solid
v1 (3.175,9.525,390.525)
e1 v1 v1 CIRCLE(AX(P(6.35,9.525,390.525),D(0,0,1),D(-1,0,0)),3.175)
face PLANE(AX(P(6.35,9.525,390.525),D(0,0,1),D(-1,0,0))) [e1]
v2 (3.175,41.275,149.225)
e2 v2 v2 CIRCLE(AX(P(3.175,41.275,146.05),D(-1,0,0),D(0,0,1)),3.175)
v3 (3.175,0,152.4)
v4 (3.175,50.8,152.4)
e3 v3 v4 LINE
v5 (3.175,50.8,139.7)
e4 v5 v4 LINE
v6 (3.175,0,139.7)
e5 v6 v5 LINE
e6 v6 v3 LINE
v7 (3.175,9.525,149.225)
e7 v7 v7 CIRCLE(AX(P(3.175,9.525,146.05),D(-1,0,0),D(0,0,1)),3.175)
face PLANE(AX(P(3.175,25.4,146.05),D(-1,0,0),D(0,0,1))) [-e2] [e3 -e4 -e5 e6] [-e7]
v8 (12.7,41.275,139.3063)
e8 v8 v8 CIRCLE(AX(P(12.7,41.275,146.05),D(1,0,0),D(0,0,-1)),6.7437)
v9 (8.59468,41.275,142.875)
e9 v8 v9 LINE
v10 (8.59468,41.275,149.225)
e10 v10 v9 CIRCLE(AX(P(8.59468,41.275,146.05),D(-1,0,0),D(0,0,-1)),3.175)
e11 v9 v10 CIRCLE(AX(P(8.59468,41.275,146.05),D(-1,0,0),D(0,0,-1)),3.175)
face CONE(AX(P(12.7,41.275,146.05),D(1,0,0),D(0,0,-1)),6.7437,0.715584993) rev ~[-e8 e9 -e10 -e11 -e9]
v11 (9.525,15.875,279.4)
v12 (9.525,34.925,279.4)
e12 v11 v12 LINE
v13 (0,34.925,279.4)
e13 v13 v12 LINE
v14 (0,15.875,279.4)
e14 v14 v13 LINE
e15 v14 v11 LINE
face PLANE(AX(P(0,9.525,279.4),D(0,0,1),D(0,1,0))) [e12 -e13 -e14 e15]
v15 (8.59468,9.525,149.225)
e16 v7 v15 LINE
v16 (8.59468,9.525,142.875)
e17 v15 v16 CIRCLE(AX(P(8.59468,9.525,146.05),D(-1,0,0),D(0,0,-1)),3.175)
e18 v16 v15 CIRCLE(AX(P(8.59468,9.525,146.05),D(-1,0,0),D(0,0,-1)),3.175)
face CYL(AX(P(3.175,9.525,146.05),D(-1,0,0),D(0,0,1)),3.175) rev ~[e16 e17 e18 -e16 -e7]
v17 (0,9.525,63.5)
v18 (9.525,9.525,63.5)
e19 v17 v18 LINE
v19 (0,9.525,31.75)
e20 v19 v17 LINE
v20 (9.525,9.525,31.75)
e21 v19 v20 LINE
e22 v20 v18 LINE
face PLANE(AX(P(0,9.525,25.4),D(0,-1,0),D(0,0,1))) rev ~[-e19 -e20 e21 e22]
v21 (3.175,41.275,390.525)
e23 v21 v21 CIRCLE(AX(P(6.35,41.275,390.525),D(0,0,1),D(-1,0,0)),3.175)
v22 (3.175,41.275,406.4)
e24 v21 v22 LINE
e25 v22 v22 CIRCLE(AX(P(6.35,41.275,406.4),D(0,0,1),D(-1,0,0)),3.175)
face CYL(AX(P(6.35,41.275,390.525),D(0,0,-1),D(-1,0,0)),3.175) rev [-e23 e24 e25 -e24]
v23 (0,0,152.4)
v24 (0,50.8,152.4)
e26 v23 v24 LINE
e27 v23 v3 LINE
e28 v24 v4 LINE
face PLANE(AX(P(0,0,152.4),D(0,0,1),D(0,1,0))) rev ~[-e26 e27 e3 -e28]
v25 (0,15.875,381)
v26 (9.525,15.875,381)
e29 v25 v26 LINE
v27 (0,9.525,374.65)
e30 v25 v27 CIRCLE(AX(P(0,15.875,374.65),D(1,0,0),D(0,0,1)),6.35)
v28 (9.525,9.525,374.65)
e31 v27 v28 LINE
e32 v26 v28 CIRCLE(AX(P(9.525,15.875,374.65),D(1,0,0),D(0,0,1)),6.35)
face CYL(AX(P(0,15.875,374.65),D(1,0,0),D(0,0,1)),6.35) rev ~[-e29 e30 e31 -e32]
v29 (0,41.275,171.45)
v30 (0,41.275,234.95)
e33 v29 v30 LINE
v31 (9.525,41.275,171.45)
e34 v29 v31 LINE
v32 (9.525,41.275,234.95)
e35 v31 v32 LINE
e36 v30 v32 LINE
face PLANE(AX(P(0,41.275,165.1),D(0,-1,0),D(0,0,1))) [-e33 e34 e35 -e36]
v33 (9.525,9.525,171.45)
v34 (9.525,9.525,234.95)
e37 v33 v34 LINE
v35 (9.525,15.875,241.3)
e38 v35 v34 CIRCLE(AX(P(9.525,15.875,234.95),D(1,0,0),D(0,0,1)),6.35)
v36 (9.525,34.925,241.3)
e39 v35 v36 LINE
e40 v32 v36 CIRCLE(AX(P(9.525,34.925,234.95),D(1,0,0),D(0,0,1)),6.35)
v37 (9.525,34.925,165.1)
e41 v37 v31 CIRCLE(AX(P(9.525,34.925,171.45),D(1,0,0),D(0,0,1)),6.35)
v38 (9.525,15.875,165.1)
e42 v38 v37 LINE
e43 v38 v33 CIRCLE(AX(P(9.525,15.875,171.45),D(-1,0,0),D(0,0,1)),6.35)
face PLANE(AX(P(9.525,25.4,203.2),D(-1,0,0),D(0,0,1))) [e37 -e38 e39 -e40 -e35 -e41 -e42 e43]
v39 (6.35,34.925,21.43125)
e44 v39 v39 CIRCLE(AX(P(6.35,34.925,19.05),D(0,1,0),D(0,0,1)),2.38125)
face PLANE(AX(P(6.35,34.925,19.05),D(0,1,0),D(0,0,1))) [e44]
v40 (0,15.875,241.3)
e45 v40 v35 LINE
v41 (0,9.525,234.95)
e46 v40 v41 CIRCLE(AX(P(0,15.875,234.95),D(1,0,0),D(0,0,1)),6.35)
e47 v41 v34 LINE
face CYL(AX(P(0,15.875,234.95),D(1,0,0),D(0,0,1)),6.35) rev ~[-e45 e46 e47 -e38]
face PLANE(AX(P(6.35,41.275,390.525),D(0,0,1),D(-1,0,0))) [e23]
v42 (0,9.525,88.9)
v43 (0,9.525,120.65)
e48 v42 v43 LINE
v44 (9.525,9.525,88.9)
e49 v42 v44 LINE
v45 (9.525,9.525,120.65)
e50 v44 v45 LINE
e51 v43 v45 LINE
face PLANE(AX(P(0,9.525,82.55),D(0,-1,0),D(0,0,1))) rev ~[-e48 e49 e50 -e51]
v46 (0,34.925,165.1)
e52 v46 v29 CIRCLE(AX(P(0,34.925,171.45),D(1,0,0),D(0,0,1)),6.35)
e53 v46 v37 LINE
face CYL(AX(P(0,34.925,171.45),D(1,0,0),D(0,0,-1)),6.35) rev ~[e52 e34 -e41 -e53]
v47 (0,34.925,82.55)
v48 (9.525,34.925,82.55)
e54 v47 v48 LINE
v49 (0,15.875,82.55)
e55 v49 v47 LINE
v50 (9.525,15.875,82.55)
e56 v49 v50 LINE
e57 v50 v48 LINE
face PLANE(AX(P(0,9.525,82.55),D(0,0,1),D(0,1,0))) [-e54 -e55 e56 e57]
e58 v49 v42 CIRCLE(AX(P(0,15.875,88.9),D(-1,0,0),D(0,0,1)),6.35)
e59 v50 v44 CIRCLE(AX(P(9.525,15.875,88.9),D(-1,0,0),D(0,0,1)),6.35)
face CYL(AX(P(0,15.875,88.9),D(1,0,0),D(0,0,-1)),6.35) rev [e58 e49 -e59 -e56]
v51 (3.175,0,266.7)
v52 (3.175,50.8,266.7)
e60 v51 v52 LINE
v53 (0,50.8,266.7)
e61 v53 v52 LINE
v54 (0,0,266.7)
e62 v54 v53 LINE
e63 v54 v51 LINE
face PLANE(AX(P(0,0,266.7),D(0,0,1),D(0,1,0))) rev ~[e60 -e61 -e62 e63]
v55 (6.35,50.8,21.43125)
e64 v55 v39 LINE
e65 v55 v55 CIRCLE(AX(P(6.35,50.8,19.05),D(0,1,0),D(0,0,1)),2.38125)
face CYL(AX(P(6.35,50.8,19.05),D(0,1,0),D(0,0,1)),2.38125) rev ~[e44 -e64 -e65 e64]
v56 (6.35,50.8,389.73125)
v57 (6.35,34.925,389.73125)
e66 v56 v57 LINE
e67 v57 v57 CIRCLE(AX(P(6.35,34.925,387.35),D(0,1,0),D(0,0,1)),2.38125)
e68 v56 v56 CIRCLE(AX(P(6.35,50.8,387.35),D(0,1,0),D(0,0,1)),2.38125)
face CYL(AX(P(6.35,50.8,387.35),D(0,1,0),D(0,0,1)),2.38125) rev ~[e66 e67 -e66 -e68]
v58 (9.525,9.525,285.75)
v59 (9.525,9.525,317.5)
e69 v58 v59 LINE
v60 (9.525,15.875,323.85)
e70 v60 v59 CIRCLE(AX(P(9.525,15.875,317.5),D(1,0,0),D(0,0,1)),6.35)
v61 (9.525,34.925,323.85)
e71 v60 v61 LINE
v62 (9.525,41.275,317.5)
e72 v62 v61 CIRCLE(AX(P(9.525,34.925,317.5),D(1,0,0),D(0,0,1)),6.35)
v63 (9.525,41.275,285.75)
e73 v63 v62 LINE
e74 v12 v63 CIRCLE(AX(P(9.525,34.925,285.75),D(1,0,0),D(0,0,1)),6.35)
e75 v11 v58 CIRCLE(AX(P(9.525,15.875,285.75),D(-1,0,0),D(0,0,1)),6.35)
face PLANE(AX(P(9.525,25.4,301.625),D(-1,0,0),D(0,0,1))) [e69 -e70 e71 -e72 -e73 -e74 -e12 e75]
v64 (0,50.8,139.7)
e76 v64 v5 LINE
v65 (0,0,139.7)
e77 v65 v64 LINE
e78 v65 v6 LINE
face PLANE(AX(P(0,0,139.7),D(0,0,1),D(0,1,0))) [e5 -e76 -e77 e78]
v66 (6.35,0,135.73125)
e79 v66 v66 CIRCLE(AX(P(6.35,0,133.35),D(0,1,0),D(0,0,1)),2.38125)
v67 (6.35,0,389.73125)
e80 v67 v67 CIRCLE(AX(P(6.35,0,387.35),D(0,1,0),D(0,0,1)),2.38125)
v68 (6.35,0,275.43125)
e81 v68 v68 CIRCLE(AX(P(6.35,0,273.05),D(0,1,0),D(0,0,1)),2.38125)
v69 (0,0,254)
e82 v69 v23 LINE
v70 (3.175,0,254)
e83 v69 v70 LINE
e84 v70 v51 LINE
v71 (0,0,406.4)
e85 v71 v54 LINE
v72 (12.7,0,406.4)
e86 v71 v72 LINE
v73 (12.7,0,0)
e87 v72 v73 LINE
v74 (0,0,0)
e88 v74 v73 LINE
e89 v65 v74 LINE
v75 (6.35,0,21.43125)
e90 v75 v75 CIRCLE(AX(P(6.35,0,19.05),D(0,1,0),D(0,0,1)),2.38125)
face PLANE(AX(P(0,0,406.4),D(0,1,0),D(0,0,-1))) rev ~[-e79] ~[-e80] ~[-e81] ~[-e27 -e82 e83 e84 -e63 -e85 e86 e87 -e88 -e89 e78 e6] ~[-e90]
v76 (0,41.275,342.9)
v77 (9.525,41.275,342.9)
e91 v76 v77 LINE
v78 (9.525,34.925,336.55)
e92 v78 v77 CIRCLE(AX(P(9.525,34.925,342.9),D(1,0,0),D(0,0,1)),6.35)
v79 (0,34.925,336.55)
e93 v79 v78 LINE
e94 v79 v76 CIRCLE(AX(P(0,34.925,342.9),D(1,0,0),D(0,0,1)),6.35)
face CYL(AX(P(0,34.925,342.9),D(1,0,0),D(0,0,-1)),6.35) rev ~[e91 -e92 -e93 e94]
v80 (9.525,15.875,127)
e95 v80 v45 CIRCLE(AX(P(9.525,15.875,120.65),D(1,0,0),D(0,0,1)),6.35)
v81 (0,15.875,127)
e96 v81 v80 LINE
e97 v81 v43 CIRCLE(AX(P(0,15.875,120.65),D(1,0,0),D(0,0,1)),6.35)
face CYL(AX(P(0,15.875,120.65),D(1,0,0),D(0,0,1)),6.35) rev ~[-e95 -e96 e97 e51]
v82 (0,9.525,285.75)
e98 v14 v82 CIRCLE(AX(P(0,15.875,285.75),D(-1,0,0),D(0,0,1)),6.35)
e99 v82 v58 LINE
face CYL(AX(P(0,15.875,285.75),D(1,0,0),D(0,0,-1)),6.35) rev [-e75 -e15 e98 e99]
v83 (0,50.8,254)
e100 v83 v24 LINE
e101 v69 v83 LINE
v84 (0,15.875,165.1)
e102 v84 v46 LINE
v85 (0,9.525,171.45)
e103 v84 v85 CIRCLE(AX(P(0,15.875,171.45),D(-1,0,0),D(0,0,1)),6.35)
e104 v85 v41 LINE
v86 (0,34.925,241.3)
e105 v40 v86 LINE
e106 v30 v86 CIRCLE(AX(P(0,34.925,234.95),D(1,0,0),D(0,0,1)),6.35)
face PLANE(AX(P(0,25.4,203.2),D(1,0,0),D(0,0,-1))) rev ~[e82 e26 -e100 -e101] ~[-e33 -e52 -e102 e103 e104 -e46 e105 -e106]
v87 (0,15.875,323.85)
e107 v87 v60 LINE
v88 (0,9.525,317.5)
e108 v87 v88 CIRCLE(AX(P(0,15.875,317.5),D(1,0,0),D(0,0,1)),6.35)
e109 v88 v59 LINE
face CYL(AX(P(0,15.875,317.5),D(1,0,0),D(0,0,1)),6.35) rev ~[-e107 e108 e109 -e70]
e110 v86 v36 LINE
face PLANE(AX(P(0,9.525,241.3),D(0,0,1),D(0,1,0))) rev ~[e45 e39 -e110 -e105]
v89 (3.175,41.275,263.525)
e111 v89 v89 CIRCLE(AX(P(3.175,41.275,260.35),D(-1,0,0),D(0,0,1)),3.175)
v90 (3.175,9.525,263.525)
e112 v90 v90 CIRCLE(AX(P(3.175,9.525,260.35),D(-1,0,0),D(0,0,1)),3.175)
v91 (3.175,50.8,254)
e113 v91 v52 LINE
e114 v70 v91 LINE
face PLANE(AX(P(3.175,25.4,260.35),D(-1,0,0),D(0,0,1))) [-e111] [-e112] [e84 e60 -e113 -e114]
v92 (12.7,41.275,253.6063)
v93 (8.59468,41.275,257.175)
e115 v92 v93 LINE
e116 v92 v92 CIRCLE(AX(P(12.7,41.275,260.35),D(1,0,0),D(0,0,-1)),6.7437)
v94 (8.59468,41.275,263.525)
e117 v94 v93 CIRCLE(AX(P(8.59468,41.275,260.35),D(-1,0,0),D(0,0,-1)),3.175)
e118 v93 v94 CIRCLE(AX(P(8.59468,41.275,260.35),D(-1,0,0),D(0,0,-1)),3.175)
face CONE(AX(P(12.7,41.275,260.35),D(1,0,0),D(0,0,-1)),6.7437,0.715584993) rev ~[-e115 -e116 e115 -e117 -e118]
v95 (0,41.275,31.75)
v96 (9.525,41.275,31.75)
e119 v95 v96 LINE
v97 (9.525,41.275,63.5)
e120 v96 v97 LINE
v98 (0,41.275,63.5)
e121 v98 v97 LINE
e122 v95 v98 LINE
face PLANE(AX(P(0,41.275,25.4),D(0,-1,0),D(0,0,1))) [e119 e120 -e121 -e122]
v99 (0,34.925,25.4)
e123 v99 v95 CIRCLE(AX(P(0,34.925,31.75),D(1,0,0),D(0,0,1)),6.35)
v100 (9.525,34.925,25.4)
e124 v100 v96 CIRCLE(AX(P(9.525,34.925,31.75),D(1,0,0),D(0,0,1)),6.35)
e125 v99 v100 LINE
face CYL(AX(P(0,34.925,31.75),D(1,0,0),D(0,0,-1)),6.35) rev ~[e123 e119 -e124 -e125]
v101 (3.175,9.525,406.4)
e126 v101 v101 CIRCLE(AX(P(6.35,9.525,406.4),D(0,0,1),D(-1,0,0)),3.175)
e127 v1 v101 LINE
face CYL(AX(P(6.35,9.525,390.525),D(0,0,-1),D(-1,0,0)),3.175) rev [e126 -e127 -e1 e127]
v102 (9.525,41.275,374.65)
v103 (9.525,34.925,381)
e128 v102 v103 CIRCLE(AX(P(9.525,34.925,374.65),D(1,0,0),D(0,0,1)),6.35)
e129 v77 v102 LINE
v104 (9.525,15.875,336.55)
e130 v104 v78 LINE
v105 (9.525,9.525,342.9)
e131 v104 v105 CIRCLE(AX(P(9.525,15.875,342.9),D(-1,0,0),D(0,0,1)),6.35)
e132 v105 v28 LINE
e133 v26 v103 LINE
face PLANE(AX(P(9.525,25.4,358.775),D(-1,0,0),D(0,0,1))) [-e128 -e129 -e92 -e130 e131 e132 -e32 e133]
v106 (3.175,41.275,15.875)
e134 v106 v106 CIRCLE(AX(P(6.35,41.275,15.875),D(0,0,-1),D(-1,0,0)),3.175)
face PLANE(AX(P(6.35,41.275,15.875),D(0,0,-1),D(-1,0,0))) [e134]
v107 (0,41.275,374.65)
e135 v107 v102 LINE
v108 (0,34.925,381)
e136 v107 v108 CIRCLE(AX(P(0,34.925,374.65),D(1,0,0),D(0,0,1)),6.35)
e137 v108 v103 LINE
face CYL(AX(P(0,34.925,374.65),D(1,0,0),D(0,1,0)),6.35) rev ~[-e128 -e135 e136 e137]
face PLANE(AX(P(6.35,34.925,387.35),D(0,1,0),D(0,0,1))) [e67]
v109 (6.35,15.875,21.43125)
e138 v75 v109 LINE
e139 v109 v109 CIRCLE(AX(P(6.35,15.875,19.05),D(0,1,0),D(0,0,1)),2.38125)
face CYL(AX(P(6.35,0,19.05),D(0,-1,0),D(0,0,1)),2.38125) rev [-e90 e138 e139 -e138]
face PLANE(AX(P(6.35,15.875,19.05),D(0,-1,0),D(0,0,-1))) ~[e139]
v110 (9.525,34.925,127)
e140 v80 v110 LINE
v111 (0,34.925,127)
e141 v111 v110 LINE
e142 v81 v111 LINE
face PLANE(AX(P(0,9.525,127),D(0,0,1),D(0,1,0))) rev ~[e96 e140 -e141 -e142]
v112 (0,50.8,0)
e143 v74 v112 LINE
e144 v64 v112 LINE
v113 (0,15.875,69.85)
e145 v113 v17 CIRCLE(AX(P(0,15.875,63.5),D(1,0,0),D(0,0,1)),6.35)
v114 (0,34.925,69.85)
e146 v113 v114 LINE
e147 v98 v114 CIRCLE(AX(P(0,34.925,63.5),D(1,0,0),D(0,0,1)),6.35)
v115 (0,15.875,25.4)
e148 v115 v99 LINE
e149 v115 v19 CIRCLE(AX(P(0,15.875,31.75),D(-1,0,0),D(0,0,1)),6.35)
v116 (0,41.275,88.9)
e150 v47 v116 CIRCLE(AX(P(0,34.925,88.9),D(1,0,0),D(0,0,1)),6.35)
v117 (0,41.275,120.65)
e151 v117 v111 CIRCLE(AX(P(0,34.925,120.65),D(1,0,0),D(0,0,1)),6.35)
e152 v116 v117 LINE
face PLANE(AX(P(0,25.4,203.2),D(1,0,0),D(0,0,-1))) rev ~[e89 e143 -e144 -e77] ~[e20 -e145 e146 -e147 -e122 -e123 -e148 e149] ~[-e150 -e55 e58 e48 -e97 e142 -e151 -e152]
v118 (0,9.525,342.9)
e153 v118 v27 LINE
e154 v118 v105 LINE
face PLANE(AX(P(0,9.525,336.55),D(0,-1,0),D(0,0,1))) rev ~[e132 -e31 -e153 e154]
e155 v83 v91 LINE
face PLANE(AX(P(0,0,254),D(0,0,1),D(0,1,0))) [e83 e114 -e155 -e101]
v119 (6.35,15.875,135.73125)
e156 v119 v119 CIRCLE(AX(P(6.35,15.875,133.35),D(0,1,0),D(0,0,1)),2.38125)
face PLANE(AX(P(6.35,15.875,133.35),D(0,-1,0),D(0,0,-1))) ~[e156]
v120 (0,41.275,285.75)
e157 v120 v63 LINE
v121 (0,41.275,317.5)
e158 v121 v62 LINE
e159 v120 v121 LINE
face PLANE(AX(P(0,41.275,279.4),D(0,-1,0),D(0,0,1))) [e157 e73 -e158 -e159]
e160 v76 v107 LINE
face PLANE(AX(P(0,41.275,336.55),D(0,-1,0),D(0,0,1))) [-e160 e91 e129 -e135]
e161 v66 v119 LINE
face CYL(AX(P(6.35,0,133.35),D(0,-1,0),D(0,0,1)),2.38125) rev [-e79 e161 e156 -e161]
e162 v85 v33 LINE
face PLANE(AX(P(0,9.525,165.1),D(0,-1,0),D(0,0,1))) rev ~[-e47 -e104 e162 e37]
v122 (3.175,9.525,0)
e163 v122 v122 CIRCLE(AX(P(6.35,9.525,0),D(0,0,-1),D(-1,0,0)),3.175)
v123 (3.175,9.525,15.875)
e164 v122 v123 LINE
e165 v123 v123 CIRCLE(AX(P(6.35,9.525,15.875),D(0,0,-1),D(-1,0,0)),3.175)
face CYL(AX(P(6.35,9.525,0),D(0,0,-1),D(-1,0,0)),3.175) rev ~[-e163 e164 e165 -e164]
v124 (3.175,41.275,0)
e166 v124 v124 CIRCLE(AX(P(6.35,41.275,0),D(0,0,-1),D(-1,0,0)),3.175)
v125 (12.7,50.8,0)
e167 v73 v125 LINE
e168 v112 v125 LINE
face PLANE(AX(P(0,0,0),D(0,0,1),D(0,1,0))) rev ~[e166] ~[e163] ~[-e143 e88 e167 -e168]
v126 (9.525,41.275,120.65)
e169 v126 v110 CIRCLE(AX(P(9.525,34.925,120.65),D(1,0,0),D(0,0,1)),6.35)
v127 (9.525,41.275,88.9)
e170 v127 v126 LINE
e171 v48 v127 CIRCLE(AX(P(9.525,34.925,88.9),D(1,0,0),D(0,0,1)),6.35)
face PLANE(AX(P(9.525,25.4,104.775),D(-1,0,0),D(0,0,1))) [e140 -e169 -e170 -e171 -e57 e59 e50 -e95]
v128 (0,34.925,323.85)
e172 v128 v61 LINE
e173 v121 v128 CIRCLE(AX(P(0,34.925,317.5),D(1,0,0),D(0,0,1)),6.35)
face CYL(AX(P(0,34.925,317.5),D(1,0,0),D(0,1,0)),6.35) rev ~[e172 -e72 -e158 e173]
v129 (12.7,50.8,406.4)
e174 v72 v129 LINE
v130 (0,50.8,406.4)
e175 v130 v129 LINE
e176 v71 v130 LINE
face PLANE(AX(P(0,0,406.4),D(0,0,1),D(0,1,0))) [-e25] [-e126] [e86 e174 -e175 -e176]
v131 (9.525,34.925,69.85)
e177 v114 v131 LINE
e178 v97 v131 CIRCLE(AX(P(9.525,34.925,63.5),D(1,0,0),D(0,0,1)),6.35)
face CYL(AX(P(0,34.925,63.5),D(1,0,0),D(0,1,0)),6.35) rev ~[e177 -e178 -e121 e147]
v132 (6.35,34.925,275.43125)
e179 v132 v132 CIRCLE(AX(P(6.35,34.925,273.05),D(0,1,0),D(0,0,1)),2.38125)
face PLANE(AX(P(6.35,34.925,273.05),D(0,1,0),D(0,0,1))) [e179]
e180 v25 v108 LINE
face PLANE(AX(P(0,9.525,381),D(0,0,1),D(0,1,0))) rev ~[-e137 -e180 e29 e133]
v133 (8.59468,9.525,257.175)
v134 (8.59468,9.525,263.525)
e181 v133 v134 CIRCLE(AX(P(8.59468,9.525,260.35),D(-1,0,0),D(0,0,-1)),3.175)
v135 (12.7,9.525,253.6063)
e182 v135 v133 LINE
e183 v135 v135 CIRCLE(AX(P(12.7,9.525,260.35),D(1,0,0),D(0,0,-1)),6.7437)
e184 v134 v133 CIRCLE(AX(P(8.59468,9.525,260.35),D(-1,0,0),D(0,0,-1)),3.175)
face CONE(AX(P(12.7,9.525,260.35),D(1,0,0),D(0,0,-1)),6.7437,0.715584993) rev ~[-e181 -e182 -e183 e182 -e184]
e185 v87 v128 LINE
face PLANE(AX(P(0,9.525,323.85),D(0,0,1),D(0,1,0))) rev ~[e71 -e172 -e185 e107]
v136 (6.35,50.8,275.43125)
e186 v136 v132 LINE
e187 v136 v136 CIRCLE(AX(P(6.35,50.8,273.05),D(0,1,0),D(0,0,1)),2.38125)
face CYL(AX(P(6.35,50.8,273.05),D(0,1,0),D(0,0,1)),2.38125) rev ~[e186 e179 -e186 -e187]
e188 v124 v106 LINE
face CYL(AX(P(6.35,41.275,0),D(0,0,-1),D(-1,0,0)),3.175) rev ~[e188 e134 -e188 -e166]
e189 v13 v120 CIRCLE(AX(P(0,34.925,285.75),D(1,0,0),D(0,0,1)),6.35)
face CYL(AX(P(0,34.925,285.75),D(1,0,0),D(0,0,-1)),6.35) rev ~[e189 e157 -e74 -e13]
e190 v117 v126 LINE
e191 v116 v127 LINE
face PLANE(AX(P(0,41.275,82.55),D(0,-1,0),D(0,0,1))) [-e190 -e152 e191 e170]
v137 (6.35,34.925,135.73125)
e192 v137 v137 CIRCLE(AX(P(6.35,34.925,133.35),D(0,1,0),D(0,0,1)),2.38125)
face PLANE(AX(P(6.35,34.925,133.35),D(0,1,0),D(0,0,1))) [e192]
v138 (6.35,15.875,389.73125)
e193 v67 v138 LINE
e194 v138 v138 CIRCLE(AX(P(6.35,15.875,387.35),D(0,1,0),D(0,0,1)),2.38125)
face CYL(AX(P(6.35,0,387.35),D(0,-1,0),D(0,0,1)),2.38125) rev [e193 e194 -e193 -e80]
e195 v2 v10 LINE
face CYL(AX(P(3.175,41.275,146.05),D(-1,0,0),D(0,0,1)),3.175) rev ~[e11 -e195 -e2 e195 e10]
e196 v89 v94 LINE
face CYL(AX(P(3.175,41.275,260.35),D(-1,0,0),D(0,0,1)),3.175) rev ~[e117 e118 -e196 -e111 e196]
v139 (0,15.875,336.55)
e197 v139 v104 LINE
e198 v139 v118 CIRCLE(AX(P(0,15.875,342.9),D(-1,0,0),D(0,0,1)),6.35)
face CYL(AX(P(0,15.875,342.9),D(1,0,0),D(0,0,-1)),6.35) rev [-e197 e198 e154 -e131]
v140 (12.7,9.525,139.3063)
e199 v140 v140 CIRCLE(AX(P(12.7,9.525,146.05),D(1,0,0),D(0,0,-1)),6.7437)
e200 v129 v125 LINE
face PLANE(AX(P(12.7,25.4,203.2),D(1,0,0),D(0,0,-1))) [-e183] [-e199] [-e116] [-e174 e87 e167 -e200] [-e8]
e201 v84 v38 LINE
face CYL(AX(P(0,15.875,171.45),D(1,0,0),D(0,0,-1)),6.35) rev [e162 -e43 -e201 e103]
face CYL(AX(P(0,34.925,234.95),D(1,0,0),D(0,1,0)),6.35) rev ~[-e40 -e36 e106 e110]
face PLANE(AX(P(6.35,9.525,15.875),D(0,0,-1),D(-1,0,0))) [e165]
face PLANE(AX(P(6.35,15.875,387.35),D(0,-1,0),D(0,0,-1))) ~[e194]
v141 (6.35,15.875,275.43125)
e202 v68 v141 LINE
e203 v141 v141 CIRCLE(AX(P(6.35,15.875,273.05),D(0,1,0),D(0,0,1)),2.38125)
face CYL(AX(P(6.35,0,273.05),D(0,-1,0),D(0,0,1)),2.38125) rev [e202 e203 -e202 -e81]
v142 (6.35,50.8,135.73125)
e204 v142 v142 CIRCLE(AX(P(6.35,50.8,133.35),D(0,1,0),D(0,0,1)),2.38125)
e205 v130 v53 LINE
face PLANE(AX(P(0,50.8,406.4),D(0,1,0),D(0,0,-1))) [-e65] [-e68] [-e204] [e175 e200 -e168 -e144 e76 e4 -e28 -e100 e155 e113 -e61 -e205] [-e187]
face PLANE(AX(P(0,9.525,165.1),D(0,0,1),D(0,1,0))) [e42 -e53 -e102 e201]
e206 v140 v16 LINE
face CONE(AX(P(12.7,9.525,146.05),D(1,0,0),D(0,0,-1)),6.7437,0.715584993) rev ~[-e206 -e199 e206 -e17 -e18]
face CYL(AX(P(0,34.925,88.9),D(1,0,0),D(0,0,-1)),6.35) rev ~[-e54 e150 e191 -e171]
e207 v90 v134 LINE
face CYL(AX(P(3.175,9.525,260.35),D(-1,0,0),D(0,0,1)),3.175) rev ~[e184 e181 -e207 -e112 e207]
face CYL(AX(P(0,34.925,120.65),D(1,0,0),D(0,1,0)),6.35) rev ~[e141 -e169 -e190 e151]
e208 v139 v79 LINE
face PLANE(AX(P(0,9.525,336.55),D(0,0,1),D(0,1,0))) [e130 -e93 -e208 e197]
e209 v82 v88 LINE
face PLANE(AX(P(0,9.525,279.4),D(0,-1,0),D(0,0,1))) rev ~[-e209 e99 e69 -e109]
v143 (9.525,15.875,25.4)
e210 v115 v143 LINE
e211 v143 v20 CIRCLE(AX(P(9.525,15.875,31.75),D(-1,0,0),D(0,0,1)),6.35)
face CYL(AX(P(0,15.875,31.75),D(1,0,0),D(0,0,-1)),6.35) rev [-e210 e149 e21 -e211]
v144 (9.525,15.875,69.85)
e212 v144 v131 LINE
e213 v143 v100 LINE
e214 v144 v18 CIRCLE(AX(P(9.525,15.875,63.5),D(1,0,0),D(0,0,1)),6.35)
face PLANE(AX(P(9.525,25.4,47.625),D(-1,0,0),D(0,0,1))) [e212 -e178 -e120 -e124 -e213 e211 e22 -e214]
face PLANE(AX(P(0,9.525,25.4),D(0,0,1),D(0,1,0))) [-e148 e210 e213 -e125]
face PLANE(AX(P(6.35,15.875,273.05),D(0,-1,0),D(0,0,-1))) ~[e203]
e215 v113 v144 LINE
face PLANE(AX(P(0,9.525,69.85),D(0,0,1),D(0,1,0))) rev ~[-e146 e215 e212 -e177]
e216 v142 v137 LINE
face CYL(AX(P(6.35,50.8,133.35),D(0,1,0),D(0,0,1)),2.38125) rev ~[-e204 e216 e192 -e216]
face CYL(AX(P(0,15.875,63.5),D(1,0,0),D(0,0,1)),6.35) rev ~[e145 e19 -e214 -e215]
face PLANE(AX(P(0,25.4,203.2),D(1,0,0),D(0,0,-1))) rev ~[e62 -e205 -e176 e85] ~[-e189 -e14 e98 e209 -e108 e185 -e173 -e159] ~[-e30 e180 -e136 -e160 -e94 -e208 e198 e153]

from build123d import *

# Parameters (mm, degrees)
SKETCH1_W                    = 406.4
SKETCH1_H                    = 50.8
EXTRUDE1_DEPTH               = 12.7
SKETCH2_W                    = 12.7
SKETCH2_H                    = 50.8
CUT_EXTRUDE1_DEPTH           = 3.175
SKETCH3_W                    = 44.45
SKETCH3_H                    = 31.75
SKETCH3_W_2                  = 76.2
CUT_EXTRUDE2_DEPTH           = 9.525
FILLET1_R                    = 6.35
SKETCH4_R                    = 2.38125
CUT_EXTRUDE3_DEPTH           = 15.875
SKETCH5_R                    = 3.175
CUT_EXTRUDE4_DEPTH           = 410.673437783
SKETCH6_R                    = 6.7437
CUT_EXTRUDE5_DEPTH           = 410.759551445
CUT_EXTRUDE5_DRAFT           = -41
CUT_EXTRUDE5_PROFILE_2_DEPTH = 410.759551445
CUT_EXTRUDE5_PROFILE_2_DRAFT = -41
CUT_EXTRUDE5_PROFILE_3_DEPTH = 410.759551445
CUT_EXTRUDE5_PROFILE_3_DRAFT = -41
CUT_EXTRUDE5_PROFILE_4_DEPTH = 410.759551445
CUT_EXTRUDE5_PROFILE_4_DRAFT = -41
SKETCH7_R                    = 3.175
CUT_EXTRUDE6_DEPTH           = 15.875
CUT_EXTRUDE7_START           = -15.875
SKETCH8_R                    = 3.175
CUT_EXTRUDE7_DEPTH           = 15.875


with BuildPart() as part:
    # Sketch1 → Extrude1 (new body)
    with BuildSketch(Plane(origin=(0, 0, 0), x_dir=(0, 0, -1), z_dir=(1, 0, 0))):
        with Locations((-203.2, 25.4)):
            Rectangle(SKETCH1_W, SKETCH1_H)
    extrude(amount=EXTRUDE1_DEPTH)

    # Sketch2 → Cut-Extrude1 (cut)
    with BuildSketch(Plane.ZY):
        with Locations((146.05, 25.4)):
            Rectangle(SKETCH2_W, SKETCH2_H)
        with Locations((260.35, 25.4)):
            Rectangle(SKETCH2_W, SKETCH2_H)
    extrude(amount=-CUT_EXTRUDE1_DEPTH, mode=Mode.SUBTRACT)

    # Sketch3 → Cut-Extrude2 (cut)
    with BuildSketch(Plane.ZY):
        with Locations((47.625, 25.4)):
            Rectangle(SKETCH3_W, SKETCH3_H)
        with Locations((104.775, 25.4)):
            Rectangle(SKETCH3_W, SKETCH3_H)
        with Locations((203.2, 25.4)):
            Rectangle(SKETCH3_W_2, SKETCH3_H)
        with Locations((301.625, 25.4)):
            Rectangle(SKETCH3_W, SKETCH3_H)
        with Locations((358.775, 25.4)):
            Rectangle(SKETCH3_W, SKETCH3_H)
    extrude(amount=-CUT_EXTRUDE2_DEPTH, mode=Mode.SUBTRACT)

    # Fillet1
    fillet1_edges = [part.edges().sort_by_distance(p)[0] for p in [
        (4.7625, 9.525, 25.4),
        (4.7625, 41.275, 25.4),
        (4.7625, 41.275, 69.85),
        (4.7625, 9.525, 69.85),
        (4.7625, 41.275, 127),
        (4.7625, 9.525, 127),
        (4.7625, 9.525, 82.55),
        (4.7625, 41.275, 82.55),
        (4.7625, 9.525, 165.1),
        (4.7625, 41.275, 165.1),
        (4.7625, 41.275, 241.3),
        (4.7625, 9.525, 241.3),
        (4.7625, 9.525, 279.4),
        (4.7625, 41.275, 279.4),
        (4.7625, 41.275, 323.85),
        (4.7625, 9.525, 323.85),
        (4.7625, 9.525, 336.55),
        (4.7625, 41.275, 336.55),
        (4.7625, 41.275, 381),
        (4.7625, 9.525, 381),
    ]]
    fillet(fillet1_edges, radius=FILLET1_R)

    # Sketch4 → Cut-Extrude3 (cut)
    with BuildSketch(Plane(origin=(0, 50.8, 0), x_dir=(-1, 0, 0), z_dir=(0, 1, 0))):
        with Locations(Location((-6.35, 19.05, 0), (0, 0, 90))):
            Circle(SKETCH4_R)
        with Locations(Location((-6.35, 133.35, 0), (0, 0, 90))):
            Circle(SKETCH4_R)
        with Locations(Location((-6.35, 273.05, 0), (0, 0, 90))):
            Circle(SKETCH4_R)
        with Locations(Location((-6.35, 387.35, 0), (0, 0, 90))):
            Circle(SKETCH4_R)
    cut_extrude3 = extrude(amount=-CUT_EXTRUDE3_DEPTH, mode=Mode.SUBTRACT)

    # Mirror1: Cut-Extrude3 across plane
    add(cut_extrude3.mirror(Plane.ZX.offset(25.4)), mode=Mode.SUBTRACT)

    # Sketch5 → Cut-Extrude4 (cut, through all)
    with BuildSketch(Plane.ZY.offset(-3.175)):
        with Locations((260.35, 41.275)):
            Circle(SKETCH5_R)
        with Locations((260.35, 9.525)):
            Circle(SKETCH5_R)
        with Locations((146.05, 41.275)):
            Circle(SKETCH5_R)
        with Locations((146.05, 9.525)):
            Circle(SKETCH5_R)
    extrude(amount=-CUT_EXTRUDE4_DEPTH, mode=Mode.SUBTRACT)


with BuildPart() as cut_extrude5_tool:
    # Sketch6 → Cut-Extrude5 (with draft: the straight prism first)
    with BuildSketch(Plane(origin=(12.7, 0, 0), x_dir=(0, 0, -1), z_dir=(1, 0, 0))):
        with Locations((-260.35, 41.275)):
            Circle(SKETCH6_R)
    extrude(amount=-CUT_EXTRUDE5_DEPTH)
    # Cut-Extrude5: the draft: its side faces are tilted about the plane it starts from
    cut_extrude5_sides = [cut_extrude5_tool.faces().sort_by_distance(p)[0] for p in [
        (-192.679775722, 41.275, 267.0937),
    ]]
    draft(cut_extrude5_sides, Plane(origin=(12.7, 0, 0), x_dir=(0, 0, -1), z_dir=(1, 0, 0)), CUT_EXTRUDE5_DRAFT)


with BuildPart() as part_1:
    add(part.part)

    # Cut-Extrude5: cut by cut_extrude5_tool
    add(cut_extrude5_tool.part, mode=Mode.SUBTRACT)


with BuildPart() as cut_extrude5_profile_2_tool:
    # Sketch6 → Cut-Extrude5 profile 2 (with draft: the straight prism first)
    with BuildSketch(Plane(origin=(12.7, 0, 0), x_dir=(0, 0, -1), z_dir=(1, 0, 0))):
        with Locations((-260.35, 9.525)):
            Circle(SKETCH6_R)
    extrude(amount=-CUT_EXTRUDE5_PROFILE_2_DEPTH)
    # Cut-Extrude5 profile 2: the draft: its side faces are tilted about the plane it starts from
    cut_extrude5_profile_2_sides = [cut_extrude5_profile_2_tool.faces().sort_by_distance(p)[0] for p in [
        (-192.679775722, 9.525, 267.0937),
    ]]
    draft(cut_extrude5_profile_2_sides, Plane(origin=(12.7, 0, 0), x_dir=(0, 0, -1), z_dir=(1, 0, 0)), CUT_EXTRUDE5_PROFILE_2_DRAFT)


with BuildPart() as part_2:
    add(part_1.part)

    # Cut-Extrude5 profile 2: cut by cut_extrude5_profile_2_tool
    add(cut_extrude5_profile_2_tool.part, mode=Mode.SUBTRACT)


with BuildPart() as cut_extrude5_profile_3_tool:
    # Sketch6 → Cut-Extrude5 profile 3 (with draft: the straight prism first)
    with BuildSketch(Plane(origin=(12.7, 0, 0), x_dir=(0, 0, -1), z_dir=(1, 0, 0))):
        with Locations((-146.05, 9.525)):
            Circle(SKETCH6_R)
    extrude(amount=-CUT_EXTRUDE5_PROFILE_3_DEPTH)
    # Cut-Extrude5 profile 3: the draft: its side faces are tilted about the plane it starts from
    cut_extrude5_profile_3_sides = [cut_extrude5_profile_3_tool.faces().sort_by_distance(p)[0] for p in [
        (-192.679775722, 9.525, 152.7937),
    ]]
    draft(cut_extrude5_profile_3_sides, Plane(origin=(12.7, 0, 0), x_dir=(0, 0, -1), z_dir=(1, 0, 0)), CUT_EXTRUDE5_PROFILE_3_DRAFT)


with BuildPart() as part_3:
    add(part_2.part)

    # Cut-Extrude5 profile 3: cut by cut_extrude5_profile_3_tool
    add(cut_extrude5_profile_3_tool.part, mode=Mode.SUBTRACT)


with BuildPart() as cut_extrude5_profile_4_tool:
    # Sketch6 → Cut-Extrude5 profile 4 (with draft: the straight prism first)
    with BuildSketch(Plane(origin=(12.7, 0, 0), x_dir=(0, 0, -1), z_dir=(1, 0, 0))):
        with Locations((-146.05, 41.275)):
            Circle(SKETCH6_R)
    extrude(amount=-CUT_EXTRUDE5_PROFILE_4_DEPTH)
    # Cut-Extrude5 profile 4: the draft: its side faces are tilted about the plane it starts from
    cut_extrude5_profile_4_sides = [cut_extrude5_profile_4_tool.faces().sort_by_distance(p)[0] for p in [
        (-192.679775722, 41.275, 152.7937),
    ]]
    draft(cut_extrude5_profile_4_sides, Plane(origin=(12.7, 0, 0), x_dir=(0, 0, -1), z_dir=(1, 0, 0)), CUT_EXTRUDE5_PROFILE_4_DRAFT)


with BuildPart() as part_4:
    add(part_3.part)

    # Cut-Extrude5 profile 4: cut by cut_extrude5_profile_4_tool
    add(cut_extrude5_profile_4_tool.part, mode=Mode.SUBTRACT)

    # Sketch7 → Cut-Extrude6 (cut)
    with BuildSketch(Plane(origin=(0, 0, 0), x_dir=(-1, 0, 0), z_dir=(0, 0, -1))):
        with Locations((-6.35, 41.275)):
            Circle(SKETCH7_R)
        with Locations((-6.35, 9.525)):
            Circle(SKETCH7_R)
    extrude(amount=-CUT_EXTRUDE6_DEPTH, mode=Mode.SUBTRACT)

    # Sketch8 → Cut-Extrude7 (cut)
    with BuildSketch(Plane.XY.offset(406.4).offset(CUT_EXTRUDE7_START)):
        with Locations(Location((6.35, 41.275, 0), (0, 0, 180))):
            Circle(SKETCH8_R)
        with Locations(Location((6.35, 9.525, 0), (0, 0, 180))):
            Circle(SKETCH8_R)
    extrude(amount=CUT_EXTRUDE7_DEPTH, mode=Mode.SUBTRACT)


solid = part_4.part
